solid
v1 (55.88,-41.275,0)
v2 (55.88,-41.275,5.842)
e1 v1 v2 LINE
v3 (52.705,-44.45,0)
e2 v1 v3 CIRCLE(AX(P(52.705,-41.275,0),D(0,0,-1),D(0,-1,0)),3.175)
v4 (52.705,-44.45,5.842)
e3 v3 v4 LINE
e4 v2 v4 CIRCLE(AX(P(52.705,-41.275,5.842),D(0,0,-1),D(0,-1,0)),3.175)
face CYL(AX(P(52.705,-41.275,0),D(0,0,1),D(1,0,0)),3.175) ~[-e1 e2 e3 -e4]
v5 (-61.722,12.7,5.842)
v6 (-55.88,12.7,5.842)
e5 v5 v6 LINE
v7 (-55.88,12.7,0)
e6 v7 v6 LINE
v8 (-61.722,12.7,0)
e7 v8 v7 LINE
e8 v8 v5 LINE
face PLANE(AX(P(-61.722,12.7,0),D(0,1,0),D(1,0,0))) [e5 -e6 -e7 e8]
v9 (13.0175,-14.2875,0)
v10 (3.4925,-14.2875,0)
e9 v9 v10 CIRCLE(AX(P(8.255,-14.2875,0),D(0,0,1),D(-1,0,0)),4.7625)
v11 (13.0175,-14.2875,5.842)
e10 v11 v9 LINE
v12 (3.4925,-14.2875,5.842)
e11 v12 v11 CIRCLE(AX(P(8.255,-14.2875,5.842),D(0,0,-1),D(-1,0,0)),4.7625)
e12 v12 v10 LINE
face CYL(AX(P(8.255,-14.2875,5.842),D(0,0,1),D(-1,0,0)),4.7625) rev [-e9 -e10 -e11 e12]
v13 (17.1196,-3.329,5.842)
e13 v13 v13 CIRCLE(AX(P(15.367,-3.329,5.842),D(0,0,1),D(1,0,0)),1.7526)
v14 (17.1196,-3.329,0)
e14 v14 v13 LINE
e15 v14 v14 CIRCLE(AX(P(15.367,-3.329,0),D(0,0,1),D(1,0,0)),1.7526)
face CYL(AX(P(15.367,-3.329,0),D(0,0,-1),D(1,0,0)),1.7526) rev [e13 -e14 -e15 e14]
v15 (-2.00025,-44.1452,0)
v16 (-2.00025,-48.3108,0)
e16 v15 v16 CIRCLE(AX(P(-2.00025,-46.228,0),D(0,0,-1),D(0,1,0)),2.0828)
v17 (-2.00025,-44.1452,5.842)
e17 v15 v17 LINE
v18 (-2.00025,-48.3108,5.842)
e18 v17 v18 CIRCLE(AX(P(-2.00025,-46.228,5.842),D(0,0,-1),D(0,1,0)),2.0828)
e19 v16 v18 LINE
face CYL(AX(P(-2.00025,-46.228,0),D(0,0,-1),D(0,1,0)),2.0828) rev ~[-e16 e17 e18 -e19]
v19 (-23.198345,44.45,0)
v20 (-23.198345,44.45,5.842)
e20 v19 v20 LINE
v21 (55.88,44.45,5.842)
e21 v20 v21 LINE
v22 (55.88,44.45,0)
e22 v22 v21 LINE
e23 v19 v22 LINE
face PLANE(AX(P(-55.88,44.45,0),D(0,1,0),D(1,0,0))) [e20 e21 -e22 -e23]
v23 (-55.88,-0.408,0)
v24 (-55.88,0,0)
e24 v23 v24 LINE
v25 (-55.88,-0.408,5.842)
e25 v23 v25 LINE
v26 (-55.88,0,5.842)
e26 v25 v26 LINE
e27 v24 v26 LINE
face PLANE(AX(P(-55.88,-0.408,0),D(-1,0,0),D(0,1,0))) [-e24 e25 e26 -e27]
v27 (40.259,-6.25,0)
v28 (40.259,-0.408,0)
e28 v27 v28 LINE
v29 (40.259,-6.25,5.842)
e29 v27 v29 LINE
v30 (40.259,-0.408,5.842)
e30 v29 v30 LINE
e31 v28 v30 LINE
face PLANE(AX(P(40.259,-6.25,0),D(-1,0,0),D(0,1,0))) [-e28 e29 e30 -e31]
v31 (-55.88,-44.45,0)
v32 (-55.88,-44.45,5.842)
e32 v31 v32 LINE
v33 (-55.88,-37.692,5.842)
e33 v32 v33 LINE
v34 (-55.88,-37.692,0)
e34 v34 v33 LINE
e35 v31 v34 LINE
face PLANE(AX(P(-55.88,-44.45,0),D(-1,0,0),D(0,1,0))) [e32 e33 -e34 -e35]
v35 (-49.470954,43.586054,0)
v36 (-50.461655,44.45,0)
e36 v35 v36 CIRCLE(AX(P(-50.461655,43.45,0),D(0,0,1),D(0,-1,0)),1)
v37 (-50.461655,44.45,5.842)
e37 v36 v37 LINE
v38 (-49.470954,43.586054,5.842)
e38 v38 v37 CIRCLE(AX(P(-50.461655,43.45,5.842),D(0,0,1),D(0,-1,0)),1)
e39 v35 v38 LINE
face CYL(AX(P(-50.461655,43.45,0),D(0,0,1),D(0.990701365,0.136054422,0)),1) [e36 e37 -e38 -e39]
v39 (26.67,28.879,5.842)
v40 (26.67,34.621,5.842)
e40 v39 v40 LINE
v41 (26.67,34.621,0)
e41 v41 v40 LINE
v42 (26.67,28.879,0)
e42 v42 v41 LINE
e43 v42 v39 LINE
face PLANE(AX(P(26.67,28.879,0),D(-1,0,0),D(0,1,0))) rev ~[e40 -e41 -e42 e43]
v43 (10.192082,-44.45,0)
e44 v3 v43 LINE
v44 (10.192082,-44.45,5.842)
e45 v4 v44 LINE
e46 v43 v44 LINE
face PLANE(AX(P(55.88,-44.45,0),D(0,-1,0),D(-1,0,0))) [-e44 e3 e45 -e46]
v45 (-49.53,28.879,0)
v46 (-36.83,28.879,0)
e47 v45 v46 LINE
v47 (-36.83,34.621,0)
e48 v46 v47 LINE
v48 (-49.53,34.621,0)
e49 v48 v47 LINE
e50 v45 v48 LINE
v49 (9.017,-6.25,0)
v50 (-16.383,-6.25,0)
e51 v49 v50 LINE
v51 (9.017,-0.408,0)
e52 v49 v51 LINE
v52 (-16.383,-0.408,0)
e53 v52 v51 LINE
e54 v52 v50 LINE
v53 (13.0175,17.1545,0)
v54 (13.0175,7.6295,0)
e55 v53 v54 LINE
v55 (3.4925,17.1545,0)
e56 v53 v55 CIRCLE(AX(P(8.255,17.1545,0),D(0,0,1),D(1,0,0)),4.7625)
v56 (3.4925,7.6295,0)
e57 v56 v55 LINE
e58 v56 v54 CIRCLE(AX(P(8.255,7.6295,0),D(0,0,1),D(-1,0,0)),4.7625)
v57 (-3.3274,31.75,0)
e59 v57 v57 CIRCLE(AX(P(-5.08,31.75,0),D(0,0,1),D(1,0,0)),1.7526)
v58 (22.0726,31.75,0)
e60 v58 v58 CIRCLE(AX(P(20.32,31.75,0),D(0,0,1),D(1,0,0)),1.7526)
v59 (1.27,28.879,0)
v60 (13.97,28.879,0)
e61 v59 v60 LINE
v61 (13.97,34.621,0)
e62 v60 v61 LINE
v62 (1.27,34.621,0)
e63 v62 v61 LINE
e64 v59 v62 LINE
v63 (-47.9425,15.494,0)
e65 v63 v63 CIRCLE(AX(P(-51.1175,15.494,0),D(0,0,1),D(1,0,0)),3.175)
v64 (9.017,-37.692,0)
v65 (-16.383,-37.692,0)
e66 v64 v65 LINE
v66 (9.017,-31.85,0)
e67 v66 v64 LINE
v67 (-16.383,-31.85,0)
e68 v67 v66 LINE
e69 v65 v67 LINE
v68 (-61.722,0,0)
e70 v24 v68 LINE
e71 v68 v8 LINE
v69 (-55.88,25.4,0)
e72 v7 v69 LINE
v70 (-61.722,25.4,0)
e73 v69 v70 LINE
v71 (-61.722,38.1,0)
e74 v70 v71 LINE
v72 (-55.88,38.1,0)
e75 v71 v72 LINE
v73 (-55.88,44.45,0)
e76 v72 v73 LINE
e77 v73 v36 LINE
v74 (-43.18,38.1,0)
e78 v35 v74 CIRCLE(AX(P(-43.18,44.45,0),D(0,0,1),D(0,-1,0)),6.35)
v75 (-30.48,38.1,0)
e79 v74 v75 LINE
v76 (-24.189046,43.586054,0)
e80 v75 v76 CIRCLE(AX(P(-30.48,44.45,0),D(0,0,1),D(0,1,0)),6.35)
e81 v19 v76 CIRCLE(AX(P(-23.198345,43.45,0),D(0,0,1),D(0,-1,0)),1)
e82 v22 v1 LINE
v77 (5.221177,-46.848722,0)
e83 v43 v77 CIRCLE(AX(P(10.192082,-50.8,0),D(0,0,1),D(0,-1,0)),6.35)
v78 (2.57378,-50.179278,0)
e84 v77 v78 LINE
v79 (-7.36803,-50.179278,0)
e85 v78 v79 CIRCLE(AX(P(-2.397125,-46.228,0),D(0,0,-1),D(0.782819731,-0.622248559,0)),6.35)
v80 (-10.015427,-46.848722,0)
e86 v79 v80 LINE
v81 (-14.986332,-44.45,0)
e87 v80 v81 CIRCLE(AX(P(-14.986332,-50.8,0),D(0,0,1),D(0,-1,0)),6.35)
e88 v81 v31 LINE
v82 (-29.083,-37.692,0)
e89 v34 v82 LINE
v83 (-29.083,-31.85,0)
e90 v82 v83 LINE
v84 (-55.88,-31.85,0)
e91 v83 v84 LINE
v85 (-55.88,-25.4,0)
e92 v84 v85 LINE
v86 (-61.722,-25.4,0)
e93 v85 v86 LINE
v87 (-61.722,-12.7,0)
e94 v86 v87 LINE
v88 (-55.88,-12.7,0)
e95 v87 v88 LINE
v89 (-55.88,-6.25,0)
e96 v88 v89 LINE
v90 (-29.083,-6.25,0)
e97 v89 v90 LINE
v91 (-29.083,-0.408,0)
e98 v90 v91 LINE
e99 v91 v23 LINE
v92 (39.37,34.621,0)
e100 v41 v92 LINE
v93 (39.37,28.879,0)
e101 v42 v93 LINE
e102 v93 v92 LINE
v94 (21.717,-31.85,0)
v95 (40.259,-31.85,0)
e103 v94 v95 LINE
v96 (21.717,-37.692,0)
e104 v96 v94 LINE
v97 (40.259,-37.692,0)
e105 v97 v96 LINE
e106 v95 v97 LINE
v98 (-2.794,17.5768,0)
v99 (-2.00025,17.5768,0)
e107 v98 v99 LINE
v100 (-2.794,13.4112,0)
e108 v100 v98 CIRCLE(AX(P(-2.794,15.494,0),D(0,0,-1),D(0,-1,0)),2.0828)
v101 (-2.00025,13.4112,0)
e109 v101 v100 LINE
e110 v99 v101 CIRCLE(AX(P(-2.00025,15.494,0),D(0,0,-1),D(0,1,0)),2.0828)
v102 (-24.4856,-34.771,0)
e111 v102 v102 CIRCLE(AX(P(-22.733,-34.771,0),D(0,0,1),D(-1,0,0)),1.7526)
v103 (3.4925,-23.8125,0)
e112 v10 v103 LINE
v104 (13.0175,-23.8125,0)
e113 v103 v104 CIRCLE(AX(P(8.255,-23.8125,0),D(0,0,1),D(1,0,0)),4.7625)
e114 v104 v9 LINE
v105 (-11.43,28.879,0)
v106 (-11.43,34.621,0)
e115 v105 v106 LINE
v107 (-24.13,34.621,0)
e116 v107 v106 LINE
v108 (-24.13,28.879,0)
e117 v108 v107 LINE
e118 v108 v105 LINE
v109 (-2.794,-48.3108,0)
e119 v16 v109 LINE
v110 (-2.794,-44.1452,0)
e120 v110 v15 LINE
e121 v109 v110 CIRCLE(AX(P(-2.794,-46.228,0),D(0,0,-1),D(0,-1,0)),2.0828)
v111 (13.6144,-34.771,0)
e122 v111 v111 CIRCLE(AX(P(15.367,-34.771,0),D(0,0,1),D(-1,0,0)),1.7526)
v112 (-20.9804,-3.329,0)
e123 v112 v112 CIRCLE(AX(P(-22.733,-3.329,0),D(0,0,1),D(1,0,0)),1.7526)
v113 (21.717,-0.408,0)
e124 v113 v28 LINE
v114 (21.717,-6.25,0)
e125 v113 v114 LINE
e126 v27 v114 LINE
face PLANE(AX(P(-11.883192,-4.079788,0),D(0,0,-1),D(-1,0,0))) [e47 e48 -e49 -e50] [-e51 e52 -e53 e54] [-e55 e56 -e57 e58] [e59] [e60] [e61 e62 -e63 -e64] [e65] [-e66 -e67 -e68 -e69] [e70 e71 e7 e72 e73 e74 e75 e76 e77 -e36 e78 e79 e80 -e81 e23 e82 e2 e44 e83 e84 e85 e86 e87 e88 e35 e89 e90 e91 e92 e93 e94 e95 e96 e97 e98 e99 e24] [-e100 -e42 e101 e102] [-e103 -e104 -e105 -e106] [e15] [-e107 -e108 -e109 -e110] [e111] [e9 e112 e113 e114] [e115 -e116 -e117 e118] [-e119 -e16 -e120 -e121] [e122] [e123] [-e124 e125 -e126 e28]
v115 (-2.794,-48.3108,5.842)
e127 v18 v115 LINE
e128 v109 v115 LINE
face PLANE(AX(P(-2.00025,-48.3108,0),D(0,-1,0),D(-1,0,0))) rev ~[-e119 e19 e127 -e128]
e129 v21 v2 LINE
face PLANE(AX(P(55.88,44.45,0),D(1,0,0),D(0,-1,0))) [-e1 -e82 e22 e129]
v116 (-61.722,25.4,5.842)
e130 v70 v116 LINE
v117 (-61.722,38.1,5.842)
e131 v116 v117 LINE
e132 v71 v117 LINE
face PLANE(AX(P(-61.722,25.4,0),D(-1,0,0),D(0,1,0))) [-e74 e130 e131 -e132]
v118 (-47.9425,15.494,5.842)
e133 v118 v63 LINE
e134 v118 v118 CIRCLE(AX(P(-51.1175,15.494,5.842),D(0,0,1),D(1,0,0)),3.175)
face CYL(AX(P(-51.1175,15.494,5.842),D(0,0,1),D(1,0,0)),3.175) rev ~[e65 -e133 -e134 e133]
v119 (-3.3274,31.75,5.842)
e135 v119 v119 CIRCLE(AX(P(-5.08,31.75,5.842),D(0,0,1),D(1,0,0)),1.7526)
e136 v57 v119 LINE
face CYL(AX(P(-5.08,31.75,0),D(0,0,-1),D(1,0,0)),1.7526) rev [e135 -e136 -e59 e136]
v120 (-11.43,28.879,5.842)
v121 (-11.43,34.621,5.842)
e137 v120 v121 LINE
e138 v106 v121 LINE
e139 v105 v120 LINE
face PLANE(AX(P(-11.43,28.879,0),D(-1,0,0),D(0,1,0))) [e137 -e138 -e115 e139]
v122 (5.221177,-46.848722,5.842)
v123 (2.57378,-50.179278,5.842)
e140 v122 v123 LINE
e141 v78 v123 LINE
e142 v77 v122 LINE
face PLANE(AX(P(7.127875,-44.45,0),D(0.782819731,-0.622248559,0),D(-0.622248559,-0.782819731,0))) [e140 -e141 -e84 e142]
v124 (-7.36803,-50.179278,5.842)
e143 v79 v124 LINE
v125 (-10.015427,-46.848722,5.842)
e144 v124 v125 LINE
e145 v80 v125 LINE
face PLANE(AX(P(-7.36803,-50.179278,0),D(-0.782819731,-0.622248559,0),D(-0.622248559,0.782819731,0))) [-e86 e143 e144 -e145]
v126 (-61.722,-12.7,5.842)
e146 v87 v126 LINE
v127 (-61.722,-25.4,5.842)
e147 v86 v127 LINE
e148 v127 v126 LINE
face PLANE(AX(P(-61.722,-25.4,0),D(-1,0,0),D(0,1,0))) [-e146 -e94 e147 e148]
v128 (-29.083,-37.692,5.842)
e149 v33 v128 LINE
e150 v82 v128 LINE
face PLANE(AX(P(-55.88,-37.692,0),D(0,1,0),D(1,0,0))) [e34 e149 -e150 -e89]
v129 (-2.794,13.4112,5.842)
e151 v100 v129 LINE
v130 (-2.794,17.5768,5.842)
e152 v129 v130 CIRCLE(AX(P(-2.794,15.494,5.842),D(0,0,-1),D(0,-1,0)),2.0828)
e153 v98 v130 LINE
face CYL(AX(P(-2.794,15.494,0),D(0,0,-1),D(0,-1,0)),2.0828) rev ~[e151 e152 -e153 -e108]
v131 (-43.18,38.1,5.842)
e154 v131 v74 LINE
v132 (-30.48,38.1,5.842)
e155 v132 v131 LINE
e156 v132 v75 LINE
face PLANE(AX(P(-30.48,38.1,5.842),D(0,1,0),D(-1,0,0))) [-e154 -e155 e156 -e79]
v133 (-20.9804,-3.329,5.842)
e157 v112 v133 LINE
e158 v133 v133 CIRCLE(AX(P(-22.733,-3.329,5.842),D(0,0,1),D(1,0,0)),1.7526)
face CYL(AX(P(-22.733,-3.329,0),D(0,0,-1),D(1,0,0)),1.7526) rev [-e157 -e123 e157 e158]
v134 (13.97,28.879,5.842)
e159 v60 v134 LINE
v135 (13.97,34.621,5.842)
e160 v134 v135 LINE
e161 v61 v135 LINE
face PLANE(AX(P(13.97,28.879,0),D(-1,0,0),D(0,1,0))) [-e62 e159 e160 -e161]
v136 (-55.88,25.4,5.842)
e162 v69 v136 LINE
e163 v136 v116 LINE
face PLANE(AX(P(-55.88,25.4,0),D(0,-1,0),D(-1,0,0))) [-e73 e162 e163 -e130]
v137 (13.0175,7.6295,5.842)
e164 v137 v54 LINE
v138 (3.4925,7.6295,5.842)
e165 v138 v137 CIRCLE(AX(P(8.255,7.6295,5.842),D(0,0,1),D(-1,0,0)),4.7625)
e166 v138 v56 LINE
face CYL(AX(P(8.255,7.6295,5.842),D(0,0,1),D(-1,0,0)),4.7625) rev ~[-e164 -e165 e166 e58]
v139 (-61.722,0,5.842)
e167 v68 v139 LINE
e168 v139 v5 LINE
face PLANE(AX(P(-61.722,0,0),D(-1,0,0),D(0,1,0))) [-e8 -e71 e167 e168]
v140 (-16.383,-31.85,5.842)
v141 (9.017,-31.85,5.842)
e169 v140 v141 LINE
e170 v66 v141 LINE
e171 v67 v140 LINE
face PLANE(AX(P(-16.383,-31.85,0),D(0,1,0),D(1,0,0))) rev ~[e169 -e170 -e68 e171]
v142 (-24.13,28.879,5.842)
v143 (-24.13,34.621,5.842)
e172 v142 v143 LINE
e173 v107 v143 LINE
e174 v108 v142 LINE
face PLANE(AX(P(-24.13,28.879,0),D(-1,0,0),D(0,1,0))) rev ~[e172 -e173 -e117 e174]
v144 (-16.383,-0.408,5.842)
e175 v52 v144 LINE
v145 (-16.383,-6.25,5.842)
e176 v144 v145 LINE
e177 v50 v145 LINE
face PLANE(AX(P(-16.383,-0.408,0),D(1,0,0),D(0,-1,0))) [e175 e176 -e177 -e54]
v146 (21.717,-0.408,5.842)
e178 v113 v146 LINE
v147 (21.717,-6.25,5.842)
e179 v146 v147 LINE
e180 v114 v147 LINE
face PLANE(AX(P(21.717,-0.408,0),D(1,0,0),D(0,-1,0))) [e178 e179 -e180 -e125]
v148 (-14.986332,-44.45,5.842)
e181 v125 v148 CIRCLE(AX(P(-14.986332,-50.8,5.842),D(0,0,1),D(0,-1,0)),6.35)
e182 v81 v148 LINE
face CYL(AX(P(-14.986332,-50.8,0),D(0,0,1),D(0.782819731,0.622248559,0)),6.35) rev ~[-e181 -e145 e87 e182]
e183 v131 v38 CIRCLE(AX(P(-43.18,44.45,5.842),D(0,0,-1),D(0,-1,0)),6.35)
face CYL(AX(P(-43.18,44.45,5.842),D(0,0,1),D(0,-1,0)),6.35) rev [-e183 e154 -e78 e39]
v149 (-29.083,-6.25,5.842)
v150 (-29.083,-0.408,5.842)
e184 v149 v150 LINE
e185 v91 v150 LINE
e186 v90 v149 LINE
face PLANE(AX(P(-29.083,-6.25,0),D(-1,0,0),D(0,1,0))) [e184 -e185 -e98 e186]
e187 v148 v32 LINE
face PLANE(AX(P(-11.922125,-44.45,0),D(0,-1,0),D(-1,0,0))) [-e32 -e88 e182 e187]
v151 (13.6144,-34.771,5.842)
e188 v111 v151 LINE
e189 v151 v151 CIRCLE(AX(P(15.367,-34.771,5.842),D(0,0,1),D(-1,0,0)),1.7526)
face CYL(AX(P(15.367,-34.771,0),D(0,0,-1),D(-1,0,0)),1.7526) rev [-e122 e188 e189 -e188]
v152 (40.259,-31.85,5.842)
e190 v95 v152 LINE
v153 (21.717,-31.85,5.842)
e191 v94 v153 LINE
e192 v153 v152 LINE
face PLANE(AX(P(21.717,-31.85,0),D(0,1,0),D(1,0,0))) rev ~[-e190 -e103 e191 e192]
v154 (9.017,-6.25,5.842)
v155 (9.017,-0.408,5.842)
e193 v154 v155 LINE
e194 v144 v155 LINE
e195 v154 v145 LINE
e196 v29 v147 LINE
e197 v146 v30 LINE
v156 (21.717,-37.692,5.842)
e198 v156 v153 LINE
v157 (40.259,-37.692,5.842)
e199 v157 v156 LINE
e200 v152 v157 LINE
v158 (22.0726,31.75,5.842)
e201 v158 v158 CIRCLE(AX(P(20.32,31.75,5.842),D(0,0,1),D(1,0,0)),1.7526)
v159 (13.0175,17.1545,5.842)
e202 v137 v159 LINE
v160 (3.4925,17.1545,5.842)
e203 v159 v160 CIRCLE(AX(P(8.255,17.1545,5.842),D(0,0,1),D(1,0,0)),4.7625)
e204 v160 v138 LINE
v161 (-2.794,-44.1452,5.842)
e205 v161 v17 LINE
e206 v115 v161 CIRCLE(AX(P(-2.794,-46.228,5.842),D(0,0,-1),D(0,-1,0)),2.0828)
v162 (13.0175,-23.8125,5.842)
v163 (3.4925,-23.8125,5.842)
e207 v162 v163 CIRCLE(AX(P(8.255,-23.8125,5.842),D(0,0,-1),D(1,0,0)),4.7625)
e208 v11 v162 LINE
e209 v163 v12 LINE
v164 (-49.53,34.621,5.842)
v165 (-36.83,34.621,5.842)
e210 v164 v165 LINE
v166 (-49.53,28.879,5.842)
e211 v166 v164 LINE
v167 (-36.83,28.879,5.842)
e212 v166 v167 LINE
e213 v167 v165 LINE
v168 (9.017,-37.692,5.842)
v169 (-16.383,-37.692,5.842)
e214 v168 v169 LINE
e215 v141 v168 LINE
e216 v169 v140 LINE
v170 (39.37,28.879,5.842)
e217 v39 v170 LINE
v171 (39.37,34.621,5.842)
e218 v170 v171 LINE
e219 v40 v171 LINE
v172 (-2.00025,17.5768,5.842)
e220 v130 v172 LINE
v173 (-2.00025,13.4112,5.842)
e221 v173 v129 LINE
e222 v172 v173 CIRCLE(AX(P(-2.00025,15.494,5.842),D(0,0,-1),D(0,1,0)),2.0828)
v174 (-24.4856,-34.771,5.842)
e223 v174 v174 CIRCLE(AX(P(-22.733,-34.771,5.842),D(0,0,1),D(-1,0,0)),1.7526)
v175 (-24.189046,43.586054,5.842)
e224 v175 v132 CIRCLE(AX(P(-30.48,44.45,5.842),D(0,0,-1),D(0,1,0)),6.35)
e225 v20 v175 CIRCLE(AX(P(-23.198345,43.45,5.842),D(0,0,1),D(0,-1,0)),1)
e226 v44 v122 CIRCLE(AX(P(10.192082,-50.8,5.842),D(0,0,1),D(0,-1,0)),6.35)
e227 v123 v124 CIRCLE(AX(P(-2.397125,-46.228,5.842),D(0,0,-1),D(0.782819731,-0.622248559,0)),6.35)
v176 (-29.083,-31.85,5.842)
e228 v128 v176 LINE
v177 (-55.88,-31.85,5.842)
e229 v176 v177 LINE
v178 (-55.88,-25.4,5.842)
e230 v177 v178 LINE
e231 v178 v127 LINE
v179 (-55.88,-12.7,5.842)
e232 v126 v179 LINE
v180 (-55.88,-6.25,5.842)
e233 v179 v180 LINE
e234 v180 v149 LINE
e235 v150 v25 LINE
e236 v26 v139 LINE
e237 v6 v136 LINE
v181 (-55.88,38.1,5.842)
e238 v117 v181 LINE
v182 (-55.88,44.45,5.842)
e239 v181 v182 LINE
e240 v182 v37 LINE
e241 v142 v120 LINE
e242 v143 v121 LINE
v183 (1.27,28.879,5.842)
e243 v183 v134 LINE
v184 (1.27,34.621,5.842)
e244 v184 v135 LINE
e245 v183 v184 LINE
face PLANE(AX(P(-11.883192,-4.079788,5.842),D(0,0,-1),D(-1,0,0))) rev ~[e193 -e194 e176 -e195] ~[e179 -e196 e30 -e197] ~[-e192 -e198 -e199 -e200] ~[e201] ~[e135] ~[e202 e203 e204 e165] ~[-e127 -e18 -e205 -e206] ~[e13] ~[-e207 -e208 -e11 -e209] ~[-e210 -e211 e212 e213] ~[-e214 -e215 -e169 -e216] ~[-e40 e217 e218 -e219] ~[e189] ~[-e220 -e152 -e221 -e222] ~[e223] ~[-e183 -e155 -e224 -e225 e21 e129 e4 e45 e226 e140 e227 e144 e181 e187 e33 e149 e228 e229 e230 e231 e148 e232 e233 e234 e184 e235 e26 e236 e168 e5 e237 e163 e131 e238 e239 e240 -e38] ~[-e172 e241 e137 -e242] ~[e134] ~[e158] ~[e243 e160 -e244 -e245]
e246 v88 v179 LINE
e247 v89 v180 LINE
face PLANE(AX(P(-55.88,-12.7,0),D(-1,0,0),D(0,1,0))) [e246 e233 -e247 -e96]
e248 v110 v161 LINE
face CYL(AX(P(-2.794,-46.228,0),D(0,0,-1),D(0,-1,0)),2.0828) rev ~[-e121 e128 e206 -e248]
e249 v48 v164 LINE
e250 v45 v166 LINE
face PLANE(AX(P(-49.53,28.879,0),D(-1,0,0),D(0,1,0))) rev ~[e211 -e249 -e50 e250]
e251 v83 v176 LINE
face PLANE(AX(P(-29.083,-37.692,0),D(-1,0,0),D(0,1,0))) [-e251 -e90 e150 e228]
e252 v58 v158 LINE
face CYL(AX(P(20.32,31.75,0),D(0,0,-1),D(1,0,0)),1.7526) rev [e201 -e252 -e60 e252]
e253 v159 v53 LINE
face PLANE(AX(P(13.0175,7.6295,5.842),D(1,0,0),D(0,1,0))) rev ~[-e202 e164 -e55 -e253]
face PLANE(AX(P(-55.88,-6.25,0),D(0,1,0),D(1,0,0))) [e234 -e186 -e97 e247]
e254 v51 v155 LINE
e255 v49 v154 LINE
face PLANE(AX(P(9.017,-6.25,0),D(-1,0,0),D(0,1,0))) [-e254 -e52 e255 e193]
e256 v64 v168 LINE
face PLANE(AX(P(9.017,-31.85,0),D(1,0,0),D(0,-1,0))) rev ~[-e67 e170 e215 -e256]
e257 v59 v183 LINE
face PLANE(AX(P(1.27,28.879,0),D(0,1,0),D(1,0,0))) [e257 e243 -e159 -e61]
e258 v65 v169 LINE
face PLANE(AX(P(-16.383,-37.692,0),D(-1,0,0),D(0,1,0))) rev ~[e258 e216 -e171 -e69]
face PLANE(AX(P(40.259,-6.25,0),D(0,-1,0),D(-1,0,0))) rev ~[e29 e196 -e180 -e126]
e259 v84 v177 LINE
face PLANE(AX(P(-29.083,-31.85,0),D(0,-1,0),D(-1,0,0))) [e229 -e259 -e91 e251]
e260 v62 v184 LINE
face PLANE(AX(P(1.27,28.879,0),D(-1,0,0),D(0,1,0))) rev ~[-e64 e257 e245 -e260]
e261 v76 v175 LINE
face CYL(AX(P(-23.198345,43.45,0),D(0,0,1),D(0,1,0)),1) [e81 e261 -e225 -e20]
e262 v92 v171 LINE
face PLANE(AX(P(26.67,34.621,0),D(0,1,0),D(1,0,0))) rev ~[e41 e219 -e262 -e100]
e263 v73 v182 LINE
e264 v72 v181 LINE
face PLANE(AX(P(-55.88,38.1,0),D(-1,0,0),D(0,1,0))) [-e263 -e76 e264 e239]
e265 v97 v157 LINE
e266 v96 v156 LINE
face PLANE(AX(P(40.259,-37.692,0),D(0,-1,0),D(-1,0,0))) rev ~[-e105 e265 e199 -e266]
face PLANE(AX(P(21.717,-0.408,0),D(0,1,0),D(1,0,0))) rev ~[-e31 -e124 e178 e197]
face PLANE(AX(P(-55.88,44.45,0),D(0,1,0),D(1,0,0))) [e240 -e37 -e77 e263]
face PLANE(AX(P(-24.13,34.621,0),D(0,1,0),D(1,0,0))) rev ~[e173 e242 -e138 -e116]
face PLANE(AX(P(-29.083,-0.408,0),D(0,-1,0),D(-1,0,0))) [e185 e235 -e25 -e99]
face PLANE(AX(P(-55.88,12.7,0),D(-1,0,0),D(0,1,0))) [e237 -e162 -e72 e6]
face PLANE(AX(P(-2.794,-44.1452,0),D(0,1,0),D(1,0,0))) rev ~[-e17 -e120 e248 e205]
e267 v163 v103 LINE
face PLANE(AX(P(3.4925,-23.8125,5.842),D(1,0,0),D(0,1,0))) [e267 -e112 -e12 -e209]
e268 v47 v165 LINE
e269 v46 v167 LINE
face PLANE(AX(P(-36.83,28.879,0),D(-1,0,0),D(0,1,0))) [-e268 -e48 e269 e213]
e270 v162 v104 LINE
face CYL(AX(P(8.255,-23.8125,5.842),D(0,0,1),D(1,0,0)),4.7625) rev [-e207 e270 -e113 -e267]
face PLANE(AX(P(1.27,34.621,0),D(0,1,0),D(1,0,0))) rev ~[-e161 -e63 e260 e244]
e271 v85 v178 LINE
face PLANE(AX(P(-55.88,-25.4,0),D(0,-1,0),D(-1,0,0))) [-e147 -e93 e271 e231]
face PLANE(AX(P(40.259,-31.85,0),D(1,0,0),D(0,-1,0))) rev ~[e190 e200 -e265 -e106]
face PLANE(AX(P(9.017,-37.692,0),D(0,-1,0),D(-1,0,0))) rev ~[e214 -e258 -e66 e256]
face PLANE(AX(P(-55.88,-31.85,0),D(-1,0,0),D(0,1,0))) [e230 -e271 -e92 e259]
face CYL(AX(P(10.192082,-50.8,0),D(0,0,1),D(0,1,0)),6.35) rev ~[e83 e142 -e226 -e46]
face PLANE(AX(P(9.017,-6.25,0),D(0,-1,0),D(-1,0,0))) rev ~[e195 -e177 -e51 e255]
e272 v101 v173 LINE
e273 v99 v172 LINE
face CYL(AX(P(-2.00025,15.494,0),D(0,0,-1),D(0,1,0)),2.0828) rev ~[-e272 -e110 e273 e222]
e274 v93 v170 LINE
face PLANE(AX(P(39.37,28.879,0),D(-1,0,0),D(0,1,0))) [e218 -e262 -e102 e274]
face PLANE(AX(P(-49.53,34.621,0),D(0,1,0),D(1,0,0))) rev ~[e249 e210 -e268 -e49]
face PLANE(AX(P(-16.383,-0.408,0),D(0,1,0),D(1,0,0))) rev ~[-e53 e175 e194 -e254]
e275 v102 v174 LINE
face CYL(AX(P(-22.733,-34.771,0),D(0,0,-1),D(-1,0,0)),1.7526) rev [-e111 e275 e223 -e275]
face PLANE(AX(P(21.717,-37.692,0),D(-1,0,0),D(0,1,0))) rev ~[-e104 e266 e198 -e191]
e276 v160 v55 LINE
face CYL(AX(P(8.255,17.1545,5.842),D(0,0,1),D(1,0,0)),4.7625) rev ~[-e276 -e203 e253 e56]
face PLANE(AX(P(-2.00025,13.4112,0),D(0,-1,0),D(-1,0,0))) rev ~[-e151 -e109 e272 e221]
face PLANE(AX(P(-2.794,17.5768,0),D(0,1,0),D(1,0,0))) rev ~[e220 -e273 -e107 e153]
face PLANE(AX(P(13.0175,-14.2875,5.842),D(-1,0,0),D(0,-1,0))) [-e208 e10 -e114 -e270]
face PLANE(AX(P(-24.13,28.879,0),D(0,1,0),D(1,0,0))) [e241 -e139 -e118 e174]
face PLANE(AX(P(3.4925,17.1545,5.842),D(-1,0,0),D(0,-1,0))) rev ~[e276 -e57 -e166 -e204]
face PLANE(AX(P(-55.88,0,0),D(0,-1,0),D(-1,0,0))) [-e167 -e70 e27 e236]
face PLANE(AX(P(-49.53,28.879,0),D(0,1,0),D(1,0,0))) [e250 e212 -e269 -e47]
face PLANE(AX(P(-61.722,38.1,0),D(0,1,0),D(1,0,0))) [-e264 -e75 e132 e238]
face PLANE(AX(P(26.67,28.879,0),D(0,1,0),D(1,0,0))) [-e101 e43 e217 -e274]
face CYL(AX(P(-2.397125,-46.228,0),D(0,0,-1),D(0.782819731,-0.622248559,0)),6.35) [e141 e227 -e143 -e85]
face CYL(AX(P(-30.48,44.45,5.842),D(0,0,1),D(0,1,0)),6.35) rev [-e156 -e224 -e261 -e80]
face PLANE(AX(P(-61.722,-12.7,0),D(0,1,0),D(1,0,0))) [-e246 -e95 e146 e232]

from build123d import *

# Parameters (mm, degrees)
SKETCH1_R           = 1.7526
SKETCH1_W           = 12.7
SKETCH1_H           = 5.742
BOSS_EXTRUDE1_DEPTH = 5.842
SKETCH2_R           = 3.175
CUT_EXTRUDE1_DEPTH  = 82.290714919
FILLET1_R           = 6.35
CUT_EXTRUDE2_DEPTH  = 82.290714919
FILLET2_R           = 1
FILLET3_R           = 3.175
CUT_EXTRUDE3_DEPTH  = 82.290714919


with BuildPart() as part:
    # Sketch1 → Boss-Extrude1 (new body)
    with BuildSketch(Plane.XY):
        with BuildLine():
            Line((-61.722, 0), (-61.722, 12.7))
            Line((-61.722, 12.7), (-55.88, 12.7))
            Line((-55.88, 12.7), (-55.88, 25.4))
            Line((-55.88, 25.4), (-61.722, 25.4))
            Line((-61.722, 25.4), (-61.722, 38.1))
            Line((-61.722, 38.1), (-55.88, 38.1))
            Line((-55.88, 38.1), (-55.88, 44.45))
            Line((-55.88, 44.45), (55.88, 44.45))
            Line((55.88, 44.45), (55.88, -44.45))
            Line((55.88, -44.45), (7.127875, -44.45))
            Line((7.127875, -44.45), (2.573780292, -50.179278348))
            ThreePointArc((2.573780292, -50.179278348), (-2.397125, -52.578), (-7.368030292, -50.179278348))
            Line((-7.368030292, -50.179278348), (-11.922125, -44.45))
            Line((-11.922125, -44.45), (-55.88, -44.45))
            Line((-55.88, -44.45), (-55.88, -37.692))
            Line((-55.88, -37.692), (-29.083, -37.692))
            Line((-29.083, -37.692), (-29.083, -31.85))
            Line((-29.083, -31.85), (-55.88, -31.85))
            Line((-55.88, -31.85), (-55.88, -25.4))
            Line((-55.88, -25.4), (-61.722, -25.4))
            Line((-61.722, -25.4), (-61.722, -12.7))
            Line((-61.722, -12.7), (-55.88, -12.7))
            Line((-55.88, -12.7), (-55.88, -6.25))
            Line((-55.88, -6.25), (-29.083, -6.25))
            Line((-29.083, -6.25), (-29.083, -0.408))
            Line((-29.083, -0.408), (-55.88, -0.408))
            Line((-55.88, -0.408), (-55.88, 0))
            Line((-55.88, 0), (-61.722, 0))
        make_face()
        with Locations((-22.733, -3.329)):
            Circle(SKETCH1_R, mode=Mode.SUBTRACT)
        with Locations((15.367, -3.329)):
            Circle(SKETCH1_R, mode=Mode.SUBTRACT)
        with Locations(Location((15.367, -34.771, 0), (0, 0, 180))):
            Circle(SKETCH1_R, mode=Mode.SUBTRACT)
        with Locations(Location((-22.733, -34.771, 0), (0, 0, 180))):
            Circle(SKETCH1_R, mode=Mode.SUBTRACT)
        with Locations((-5.08, 31.75)):
            Circle(SKETCH1_R, mode=Mode.SUBTRACT)
        with Locations((20.32, 31.75)):
            Circle(SKETCH1_R, mode=Mode.SUBTRACT)
        Polygon((9.017, -0.408), (-10.541, -0.408), (-16.383, -0.408), (-16.383, -6.25), (-10.541, -6.25), (9.017, -6.25), align=None, mode=Mode.SUBTRACT)
        Polygon((27.559, -0.408), (21.717, -0.408), (21.717, -6.25), (27.559, -6.25), (40.259, -6.25), (40.259, -0.408), align=None, mode=Mode.SUBTRACT)
        Polygon((21.717, -37.692), (21.717, -31.85), (27.559, -31.85), (40.259, -31.85), (40.259, -37.692), (27.559, -37.692), align=None, mode=Mode.SUBTRACT)
        Polygon((-16.383, -37.692), (-16.383, -31.85), (-10.541, -31.85), (9.017, -31.85), (9.017, -37.692), (-10.541, -37.692), align=None, mode=Mode.SUBTRACT)
        with BuildLine():
            Line((-2.794, -44.1452), (-2.00025, -44.1452))
            ThreePointArc((-2.00025, -44.1452), (0.08255, -46.228), (-2.00025, -48.3108))
            Line((-2.00025, -48.3108), (-2.794, -48.3108))
            ThreePointArc((-2.794, -48.3108), (-4.8768, -46.228), (-2.794, -44.1452))
        make_face(mode=Mode.SUBTRACT)
        with BuildLine():
            Line((-2.794, 17.5768), (-2.00025, 17.5768))
            ThreePointArc((-2.00025, 17.5768), (0.08255, 15.494), (-2.00025, 13.4112))
            Line((-2.00025, 13.4112), (-2.794, 13.4112))
            ThreePointArc((-2.794, 13.4112), (-4.8768, 15.494), (-2.794, 17.5768))
        make_face(mode=Mode.SUBTRACT)
        with Locations((-17.78, 31.75)):
            Rectangle(SKETCH1_W, SKETCH1_H, mode=Mode.SUBTRACT)
        with Locations((-43.18, 31.75)):
            Rectangle(SKETCH1_W, SKETCH1_H, mode=Mode.SUBTRACT)
        with Locations((7.62, 31.75)):
            Rectangle(SKETCH1_W, SKETCH1_H, mode=Mode.SUBTRACT)
        with Locations((33.02, 31.75)):
            Rectangle(SKETCH1_W, SKETCH1_H, mode=Mode.SUBTRACT)
    extrude(amount=BOSS_EXTRUDE1_DEPTH)

    # Sketch2 → Cut-Extrude1 (cut, through all)
    with BuildSketch(Plane.XY.offset(5.842)):
        with Locations((-51.1175, 15.494)):
            Circle(SKETCH2_R)
    extrude(amount=-CUT_EXTRUDE1_DEPTH, mode=Mode.SUBTRACT)

    # Fillet1
    fillet1_edges = [part.edges().sort_by_distance(p)[0] for p in [
        (7.127875, -44.45, 2.921),
        (-11.922125, -44.45, 2.921),
    ]]
    fillet(fillet1_edges, radius=FILLET1_R)

    # Sketch4 → Cut-Extrude2 (cut, through all)
    with BuildSketch(Plane.XY.offset(5.842)):
        with BuildLine():
            Line((-43.18, 50.8), (-30.48, 50.8))
            ThreePointArc((-30.48, 50.8), (-24.13, 44.45), (-30.48, 38.1))
            Line((-30.48, 38.1), (-43.18, 38.1))
            ThreePointArc((-43.18, 38.1), (-49.53, 44.45), (-43.18, 50.8))
        make_face()
    extrude(amount=-CUT_EXTRUDE2_DEPTH, mode=Mode.SUBTRACT)

    # Fillet2
    fillet2_edges = [part.edges().sort_by_distance(p)[0] for p in [
        (-24.13, 44.45, 2.921),
        (-49.53, 44.45, 2.921),
    ]]
    fillet(fillet2_edges, radius=FILLET2_R)

    # Fillet3
    fillet3_edges = [part.edges().sort_by_distance(p)[0] for p in [
        (55.88, -44.45, 2.921),
    ]]
    fillet(fillet3_edges, radius=FILLET3_R)

    # Sketch5 → Cut-Extrude3 (cut, through all)
    with BuildSketch(Plane.XY.offset(5.842)):
        with BuildLine():
            Line((3.4925, -23.8125), (3.4925, -14.2875))
            ThreePointArc((3.4925, -14.2875), (8.255, -9.525), (13.0175, -14.2875))
            Line((13.0175, -14.2875), (13.0175, -23.8125))
            ThreePointArc((13.0175, -23.8125), (8.255, -28.575), (3.4925, -23.8125))
        make_face()
        with BuildLine():
            Line((3.4925, 17.1545), (3.4925, 7.6295))
            ThreePointArc((3.4925, 7.6295), (8.255, 2.867), (13.0175, 7.6295))
            Line((13.0175, 7.6295), (13.0175, 17.1545))
            ThreePointArc((13.0175, 17.1545), (8.255, 21.917), (3.4925, 17.1545))
        make_face()
    extrude(amount=-CUT_EXTRUDE3_DEPTH, mode=Mode.SUBTRACT)


solid = part.part
